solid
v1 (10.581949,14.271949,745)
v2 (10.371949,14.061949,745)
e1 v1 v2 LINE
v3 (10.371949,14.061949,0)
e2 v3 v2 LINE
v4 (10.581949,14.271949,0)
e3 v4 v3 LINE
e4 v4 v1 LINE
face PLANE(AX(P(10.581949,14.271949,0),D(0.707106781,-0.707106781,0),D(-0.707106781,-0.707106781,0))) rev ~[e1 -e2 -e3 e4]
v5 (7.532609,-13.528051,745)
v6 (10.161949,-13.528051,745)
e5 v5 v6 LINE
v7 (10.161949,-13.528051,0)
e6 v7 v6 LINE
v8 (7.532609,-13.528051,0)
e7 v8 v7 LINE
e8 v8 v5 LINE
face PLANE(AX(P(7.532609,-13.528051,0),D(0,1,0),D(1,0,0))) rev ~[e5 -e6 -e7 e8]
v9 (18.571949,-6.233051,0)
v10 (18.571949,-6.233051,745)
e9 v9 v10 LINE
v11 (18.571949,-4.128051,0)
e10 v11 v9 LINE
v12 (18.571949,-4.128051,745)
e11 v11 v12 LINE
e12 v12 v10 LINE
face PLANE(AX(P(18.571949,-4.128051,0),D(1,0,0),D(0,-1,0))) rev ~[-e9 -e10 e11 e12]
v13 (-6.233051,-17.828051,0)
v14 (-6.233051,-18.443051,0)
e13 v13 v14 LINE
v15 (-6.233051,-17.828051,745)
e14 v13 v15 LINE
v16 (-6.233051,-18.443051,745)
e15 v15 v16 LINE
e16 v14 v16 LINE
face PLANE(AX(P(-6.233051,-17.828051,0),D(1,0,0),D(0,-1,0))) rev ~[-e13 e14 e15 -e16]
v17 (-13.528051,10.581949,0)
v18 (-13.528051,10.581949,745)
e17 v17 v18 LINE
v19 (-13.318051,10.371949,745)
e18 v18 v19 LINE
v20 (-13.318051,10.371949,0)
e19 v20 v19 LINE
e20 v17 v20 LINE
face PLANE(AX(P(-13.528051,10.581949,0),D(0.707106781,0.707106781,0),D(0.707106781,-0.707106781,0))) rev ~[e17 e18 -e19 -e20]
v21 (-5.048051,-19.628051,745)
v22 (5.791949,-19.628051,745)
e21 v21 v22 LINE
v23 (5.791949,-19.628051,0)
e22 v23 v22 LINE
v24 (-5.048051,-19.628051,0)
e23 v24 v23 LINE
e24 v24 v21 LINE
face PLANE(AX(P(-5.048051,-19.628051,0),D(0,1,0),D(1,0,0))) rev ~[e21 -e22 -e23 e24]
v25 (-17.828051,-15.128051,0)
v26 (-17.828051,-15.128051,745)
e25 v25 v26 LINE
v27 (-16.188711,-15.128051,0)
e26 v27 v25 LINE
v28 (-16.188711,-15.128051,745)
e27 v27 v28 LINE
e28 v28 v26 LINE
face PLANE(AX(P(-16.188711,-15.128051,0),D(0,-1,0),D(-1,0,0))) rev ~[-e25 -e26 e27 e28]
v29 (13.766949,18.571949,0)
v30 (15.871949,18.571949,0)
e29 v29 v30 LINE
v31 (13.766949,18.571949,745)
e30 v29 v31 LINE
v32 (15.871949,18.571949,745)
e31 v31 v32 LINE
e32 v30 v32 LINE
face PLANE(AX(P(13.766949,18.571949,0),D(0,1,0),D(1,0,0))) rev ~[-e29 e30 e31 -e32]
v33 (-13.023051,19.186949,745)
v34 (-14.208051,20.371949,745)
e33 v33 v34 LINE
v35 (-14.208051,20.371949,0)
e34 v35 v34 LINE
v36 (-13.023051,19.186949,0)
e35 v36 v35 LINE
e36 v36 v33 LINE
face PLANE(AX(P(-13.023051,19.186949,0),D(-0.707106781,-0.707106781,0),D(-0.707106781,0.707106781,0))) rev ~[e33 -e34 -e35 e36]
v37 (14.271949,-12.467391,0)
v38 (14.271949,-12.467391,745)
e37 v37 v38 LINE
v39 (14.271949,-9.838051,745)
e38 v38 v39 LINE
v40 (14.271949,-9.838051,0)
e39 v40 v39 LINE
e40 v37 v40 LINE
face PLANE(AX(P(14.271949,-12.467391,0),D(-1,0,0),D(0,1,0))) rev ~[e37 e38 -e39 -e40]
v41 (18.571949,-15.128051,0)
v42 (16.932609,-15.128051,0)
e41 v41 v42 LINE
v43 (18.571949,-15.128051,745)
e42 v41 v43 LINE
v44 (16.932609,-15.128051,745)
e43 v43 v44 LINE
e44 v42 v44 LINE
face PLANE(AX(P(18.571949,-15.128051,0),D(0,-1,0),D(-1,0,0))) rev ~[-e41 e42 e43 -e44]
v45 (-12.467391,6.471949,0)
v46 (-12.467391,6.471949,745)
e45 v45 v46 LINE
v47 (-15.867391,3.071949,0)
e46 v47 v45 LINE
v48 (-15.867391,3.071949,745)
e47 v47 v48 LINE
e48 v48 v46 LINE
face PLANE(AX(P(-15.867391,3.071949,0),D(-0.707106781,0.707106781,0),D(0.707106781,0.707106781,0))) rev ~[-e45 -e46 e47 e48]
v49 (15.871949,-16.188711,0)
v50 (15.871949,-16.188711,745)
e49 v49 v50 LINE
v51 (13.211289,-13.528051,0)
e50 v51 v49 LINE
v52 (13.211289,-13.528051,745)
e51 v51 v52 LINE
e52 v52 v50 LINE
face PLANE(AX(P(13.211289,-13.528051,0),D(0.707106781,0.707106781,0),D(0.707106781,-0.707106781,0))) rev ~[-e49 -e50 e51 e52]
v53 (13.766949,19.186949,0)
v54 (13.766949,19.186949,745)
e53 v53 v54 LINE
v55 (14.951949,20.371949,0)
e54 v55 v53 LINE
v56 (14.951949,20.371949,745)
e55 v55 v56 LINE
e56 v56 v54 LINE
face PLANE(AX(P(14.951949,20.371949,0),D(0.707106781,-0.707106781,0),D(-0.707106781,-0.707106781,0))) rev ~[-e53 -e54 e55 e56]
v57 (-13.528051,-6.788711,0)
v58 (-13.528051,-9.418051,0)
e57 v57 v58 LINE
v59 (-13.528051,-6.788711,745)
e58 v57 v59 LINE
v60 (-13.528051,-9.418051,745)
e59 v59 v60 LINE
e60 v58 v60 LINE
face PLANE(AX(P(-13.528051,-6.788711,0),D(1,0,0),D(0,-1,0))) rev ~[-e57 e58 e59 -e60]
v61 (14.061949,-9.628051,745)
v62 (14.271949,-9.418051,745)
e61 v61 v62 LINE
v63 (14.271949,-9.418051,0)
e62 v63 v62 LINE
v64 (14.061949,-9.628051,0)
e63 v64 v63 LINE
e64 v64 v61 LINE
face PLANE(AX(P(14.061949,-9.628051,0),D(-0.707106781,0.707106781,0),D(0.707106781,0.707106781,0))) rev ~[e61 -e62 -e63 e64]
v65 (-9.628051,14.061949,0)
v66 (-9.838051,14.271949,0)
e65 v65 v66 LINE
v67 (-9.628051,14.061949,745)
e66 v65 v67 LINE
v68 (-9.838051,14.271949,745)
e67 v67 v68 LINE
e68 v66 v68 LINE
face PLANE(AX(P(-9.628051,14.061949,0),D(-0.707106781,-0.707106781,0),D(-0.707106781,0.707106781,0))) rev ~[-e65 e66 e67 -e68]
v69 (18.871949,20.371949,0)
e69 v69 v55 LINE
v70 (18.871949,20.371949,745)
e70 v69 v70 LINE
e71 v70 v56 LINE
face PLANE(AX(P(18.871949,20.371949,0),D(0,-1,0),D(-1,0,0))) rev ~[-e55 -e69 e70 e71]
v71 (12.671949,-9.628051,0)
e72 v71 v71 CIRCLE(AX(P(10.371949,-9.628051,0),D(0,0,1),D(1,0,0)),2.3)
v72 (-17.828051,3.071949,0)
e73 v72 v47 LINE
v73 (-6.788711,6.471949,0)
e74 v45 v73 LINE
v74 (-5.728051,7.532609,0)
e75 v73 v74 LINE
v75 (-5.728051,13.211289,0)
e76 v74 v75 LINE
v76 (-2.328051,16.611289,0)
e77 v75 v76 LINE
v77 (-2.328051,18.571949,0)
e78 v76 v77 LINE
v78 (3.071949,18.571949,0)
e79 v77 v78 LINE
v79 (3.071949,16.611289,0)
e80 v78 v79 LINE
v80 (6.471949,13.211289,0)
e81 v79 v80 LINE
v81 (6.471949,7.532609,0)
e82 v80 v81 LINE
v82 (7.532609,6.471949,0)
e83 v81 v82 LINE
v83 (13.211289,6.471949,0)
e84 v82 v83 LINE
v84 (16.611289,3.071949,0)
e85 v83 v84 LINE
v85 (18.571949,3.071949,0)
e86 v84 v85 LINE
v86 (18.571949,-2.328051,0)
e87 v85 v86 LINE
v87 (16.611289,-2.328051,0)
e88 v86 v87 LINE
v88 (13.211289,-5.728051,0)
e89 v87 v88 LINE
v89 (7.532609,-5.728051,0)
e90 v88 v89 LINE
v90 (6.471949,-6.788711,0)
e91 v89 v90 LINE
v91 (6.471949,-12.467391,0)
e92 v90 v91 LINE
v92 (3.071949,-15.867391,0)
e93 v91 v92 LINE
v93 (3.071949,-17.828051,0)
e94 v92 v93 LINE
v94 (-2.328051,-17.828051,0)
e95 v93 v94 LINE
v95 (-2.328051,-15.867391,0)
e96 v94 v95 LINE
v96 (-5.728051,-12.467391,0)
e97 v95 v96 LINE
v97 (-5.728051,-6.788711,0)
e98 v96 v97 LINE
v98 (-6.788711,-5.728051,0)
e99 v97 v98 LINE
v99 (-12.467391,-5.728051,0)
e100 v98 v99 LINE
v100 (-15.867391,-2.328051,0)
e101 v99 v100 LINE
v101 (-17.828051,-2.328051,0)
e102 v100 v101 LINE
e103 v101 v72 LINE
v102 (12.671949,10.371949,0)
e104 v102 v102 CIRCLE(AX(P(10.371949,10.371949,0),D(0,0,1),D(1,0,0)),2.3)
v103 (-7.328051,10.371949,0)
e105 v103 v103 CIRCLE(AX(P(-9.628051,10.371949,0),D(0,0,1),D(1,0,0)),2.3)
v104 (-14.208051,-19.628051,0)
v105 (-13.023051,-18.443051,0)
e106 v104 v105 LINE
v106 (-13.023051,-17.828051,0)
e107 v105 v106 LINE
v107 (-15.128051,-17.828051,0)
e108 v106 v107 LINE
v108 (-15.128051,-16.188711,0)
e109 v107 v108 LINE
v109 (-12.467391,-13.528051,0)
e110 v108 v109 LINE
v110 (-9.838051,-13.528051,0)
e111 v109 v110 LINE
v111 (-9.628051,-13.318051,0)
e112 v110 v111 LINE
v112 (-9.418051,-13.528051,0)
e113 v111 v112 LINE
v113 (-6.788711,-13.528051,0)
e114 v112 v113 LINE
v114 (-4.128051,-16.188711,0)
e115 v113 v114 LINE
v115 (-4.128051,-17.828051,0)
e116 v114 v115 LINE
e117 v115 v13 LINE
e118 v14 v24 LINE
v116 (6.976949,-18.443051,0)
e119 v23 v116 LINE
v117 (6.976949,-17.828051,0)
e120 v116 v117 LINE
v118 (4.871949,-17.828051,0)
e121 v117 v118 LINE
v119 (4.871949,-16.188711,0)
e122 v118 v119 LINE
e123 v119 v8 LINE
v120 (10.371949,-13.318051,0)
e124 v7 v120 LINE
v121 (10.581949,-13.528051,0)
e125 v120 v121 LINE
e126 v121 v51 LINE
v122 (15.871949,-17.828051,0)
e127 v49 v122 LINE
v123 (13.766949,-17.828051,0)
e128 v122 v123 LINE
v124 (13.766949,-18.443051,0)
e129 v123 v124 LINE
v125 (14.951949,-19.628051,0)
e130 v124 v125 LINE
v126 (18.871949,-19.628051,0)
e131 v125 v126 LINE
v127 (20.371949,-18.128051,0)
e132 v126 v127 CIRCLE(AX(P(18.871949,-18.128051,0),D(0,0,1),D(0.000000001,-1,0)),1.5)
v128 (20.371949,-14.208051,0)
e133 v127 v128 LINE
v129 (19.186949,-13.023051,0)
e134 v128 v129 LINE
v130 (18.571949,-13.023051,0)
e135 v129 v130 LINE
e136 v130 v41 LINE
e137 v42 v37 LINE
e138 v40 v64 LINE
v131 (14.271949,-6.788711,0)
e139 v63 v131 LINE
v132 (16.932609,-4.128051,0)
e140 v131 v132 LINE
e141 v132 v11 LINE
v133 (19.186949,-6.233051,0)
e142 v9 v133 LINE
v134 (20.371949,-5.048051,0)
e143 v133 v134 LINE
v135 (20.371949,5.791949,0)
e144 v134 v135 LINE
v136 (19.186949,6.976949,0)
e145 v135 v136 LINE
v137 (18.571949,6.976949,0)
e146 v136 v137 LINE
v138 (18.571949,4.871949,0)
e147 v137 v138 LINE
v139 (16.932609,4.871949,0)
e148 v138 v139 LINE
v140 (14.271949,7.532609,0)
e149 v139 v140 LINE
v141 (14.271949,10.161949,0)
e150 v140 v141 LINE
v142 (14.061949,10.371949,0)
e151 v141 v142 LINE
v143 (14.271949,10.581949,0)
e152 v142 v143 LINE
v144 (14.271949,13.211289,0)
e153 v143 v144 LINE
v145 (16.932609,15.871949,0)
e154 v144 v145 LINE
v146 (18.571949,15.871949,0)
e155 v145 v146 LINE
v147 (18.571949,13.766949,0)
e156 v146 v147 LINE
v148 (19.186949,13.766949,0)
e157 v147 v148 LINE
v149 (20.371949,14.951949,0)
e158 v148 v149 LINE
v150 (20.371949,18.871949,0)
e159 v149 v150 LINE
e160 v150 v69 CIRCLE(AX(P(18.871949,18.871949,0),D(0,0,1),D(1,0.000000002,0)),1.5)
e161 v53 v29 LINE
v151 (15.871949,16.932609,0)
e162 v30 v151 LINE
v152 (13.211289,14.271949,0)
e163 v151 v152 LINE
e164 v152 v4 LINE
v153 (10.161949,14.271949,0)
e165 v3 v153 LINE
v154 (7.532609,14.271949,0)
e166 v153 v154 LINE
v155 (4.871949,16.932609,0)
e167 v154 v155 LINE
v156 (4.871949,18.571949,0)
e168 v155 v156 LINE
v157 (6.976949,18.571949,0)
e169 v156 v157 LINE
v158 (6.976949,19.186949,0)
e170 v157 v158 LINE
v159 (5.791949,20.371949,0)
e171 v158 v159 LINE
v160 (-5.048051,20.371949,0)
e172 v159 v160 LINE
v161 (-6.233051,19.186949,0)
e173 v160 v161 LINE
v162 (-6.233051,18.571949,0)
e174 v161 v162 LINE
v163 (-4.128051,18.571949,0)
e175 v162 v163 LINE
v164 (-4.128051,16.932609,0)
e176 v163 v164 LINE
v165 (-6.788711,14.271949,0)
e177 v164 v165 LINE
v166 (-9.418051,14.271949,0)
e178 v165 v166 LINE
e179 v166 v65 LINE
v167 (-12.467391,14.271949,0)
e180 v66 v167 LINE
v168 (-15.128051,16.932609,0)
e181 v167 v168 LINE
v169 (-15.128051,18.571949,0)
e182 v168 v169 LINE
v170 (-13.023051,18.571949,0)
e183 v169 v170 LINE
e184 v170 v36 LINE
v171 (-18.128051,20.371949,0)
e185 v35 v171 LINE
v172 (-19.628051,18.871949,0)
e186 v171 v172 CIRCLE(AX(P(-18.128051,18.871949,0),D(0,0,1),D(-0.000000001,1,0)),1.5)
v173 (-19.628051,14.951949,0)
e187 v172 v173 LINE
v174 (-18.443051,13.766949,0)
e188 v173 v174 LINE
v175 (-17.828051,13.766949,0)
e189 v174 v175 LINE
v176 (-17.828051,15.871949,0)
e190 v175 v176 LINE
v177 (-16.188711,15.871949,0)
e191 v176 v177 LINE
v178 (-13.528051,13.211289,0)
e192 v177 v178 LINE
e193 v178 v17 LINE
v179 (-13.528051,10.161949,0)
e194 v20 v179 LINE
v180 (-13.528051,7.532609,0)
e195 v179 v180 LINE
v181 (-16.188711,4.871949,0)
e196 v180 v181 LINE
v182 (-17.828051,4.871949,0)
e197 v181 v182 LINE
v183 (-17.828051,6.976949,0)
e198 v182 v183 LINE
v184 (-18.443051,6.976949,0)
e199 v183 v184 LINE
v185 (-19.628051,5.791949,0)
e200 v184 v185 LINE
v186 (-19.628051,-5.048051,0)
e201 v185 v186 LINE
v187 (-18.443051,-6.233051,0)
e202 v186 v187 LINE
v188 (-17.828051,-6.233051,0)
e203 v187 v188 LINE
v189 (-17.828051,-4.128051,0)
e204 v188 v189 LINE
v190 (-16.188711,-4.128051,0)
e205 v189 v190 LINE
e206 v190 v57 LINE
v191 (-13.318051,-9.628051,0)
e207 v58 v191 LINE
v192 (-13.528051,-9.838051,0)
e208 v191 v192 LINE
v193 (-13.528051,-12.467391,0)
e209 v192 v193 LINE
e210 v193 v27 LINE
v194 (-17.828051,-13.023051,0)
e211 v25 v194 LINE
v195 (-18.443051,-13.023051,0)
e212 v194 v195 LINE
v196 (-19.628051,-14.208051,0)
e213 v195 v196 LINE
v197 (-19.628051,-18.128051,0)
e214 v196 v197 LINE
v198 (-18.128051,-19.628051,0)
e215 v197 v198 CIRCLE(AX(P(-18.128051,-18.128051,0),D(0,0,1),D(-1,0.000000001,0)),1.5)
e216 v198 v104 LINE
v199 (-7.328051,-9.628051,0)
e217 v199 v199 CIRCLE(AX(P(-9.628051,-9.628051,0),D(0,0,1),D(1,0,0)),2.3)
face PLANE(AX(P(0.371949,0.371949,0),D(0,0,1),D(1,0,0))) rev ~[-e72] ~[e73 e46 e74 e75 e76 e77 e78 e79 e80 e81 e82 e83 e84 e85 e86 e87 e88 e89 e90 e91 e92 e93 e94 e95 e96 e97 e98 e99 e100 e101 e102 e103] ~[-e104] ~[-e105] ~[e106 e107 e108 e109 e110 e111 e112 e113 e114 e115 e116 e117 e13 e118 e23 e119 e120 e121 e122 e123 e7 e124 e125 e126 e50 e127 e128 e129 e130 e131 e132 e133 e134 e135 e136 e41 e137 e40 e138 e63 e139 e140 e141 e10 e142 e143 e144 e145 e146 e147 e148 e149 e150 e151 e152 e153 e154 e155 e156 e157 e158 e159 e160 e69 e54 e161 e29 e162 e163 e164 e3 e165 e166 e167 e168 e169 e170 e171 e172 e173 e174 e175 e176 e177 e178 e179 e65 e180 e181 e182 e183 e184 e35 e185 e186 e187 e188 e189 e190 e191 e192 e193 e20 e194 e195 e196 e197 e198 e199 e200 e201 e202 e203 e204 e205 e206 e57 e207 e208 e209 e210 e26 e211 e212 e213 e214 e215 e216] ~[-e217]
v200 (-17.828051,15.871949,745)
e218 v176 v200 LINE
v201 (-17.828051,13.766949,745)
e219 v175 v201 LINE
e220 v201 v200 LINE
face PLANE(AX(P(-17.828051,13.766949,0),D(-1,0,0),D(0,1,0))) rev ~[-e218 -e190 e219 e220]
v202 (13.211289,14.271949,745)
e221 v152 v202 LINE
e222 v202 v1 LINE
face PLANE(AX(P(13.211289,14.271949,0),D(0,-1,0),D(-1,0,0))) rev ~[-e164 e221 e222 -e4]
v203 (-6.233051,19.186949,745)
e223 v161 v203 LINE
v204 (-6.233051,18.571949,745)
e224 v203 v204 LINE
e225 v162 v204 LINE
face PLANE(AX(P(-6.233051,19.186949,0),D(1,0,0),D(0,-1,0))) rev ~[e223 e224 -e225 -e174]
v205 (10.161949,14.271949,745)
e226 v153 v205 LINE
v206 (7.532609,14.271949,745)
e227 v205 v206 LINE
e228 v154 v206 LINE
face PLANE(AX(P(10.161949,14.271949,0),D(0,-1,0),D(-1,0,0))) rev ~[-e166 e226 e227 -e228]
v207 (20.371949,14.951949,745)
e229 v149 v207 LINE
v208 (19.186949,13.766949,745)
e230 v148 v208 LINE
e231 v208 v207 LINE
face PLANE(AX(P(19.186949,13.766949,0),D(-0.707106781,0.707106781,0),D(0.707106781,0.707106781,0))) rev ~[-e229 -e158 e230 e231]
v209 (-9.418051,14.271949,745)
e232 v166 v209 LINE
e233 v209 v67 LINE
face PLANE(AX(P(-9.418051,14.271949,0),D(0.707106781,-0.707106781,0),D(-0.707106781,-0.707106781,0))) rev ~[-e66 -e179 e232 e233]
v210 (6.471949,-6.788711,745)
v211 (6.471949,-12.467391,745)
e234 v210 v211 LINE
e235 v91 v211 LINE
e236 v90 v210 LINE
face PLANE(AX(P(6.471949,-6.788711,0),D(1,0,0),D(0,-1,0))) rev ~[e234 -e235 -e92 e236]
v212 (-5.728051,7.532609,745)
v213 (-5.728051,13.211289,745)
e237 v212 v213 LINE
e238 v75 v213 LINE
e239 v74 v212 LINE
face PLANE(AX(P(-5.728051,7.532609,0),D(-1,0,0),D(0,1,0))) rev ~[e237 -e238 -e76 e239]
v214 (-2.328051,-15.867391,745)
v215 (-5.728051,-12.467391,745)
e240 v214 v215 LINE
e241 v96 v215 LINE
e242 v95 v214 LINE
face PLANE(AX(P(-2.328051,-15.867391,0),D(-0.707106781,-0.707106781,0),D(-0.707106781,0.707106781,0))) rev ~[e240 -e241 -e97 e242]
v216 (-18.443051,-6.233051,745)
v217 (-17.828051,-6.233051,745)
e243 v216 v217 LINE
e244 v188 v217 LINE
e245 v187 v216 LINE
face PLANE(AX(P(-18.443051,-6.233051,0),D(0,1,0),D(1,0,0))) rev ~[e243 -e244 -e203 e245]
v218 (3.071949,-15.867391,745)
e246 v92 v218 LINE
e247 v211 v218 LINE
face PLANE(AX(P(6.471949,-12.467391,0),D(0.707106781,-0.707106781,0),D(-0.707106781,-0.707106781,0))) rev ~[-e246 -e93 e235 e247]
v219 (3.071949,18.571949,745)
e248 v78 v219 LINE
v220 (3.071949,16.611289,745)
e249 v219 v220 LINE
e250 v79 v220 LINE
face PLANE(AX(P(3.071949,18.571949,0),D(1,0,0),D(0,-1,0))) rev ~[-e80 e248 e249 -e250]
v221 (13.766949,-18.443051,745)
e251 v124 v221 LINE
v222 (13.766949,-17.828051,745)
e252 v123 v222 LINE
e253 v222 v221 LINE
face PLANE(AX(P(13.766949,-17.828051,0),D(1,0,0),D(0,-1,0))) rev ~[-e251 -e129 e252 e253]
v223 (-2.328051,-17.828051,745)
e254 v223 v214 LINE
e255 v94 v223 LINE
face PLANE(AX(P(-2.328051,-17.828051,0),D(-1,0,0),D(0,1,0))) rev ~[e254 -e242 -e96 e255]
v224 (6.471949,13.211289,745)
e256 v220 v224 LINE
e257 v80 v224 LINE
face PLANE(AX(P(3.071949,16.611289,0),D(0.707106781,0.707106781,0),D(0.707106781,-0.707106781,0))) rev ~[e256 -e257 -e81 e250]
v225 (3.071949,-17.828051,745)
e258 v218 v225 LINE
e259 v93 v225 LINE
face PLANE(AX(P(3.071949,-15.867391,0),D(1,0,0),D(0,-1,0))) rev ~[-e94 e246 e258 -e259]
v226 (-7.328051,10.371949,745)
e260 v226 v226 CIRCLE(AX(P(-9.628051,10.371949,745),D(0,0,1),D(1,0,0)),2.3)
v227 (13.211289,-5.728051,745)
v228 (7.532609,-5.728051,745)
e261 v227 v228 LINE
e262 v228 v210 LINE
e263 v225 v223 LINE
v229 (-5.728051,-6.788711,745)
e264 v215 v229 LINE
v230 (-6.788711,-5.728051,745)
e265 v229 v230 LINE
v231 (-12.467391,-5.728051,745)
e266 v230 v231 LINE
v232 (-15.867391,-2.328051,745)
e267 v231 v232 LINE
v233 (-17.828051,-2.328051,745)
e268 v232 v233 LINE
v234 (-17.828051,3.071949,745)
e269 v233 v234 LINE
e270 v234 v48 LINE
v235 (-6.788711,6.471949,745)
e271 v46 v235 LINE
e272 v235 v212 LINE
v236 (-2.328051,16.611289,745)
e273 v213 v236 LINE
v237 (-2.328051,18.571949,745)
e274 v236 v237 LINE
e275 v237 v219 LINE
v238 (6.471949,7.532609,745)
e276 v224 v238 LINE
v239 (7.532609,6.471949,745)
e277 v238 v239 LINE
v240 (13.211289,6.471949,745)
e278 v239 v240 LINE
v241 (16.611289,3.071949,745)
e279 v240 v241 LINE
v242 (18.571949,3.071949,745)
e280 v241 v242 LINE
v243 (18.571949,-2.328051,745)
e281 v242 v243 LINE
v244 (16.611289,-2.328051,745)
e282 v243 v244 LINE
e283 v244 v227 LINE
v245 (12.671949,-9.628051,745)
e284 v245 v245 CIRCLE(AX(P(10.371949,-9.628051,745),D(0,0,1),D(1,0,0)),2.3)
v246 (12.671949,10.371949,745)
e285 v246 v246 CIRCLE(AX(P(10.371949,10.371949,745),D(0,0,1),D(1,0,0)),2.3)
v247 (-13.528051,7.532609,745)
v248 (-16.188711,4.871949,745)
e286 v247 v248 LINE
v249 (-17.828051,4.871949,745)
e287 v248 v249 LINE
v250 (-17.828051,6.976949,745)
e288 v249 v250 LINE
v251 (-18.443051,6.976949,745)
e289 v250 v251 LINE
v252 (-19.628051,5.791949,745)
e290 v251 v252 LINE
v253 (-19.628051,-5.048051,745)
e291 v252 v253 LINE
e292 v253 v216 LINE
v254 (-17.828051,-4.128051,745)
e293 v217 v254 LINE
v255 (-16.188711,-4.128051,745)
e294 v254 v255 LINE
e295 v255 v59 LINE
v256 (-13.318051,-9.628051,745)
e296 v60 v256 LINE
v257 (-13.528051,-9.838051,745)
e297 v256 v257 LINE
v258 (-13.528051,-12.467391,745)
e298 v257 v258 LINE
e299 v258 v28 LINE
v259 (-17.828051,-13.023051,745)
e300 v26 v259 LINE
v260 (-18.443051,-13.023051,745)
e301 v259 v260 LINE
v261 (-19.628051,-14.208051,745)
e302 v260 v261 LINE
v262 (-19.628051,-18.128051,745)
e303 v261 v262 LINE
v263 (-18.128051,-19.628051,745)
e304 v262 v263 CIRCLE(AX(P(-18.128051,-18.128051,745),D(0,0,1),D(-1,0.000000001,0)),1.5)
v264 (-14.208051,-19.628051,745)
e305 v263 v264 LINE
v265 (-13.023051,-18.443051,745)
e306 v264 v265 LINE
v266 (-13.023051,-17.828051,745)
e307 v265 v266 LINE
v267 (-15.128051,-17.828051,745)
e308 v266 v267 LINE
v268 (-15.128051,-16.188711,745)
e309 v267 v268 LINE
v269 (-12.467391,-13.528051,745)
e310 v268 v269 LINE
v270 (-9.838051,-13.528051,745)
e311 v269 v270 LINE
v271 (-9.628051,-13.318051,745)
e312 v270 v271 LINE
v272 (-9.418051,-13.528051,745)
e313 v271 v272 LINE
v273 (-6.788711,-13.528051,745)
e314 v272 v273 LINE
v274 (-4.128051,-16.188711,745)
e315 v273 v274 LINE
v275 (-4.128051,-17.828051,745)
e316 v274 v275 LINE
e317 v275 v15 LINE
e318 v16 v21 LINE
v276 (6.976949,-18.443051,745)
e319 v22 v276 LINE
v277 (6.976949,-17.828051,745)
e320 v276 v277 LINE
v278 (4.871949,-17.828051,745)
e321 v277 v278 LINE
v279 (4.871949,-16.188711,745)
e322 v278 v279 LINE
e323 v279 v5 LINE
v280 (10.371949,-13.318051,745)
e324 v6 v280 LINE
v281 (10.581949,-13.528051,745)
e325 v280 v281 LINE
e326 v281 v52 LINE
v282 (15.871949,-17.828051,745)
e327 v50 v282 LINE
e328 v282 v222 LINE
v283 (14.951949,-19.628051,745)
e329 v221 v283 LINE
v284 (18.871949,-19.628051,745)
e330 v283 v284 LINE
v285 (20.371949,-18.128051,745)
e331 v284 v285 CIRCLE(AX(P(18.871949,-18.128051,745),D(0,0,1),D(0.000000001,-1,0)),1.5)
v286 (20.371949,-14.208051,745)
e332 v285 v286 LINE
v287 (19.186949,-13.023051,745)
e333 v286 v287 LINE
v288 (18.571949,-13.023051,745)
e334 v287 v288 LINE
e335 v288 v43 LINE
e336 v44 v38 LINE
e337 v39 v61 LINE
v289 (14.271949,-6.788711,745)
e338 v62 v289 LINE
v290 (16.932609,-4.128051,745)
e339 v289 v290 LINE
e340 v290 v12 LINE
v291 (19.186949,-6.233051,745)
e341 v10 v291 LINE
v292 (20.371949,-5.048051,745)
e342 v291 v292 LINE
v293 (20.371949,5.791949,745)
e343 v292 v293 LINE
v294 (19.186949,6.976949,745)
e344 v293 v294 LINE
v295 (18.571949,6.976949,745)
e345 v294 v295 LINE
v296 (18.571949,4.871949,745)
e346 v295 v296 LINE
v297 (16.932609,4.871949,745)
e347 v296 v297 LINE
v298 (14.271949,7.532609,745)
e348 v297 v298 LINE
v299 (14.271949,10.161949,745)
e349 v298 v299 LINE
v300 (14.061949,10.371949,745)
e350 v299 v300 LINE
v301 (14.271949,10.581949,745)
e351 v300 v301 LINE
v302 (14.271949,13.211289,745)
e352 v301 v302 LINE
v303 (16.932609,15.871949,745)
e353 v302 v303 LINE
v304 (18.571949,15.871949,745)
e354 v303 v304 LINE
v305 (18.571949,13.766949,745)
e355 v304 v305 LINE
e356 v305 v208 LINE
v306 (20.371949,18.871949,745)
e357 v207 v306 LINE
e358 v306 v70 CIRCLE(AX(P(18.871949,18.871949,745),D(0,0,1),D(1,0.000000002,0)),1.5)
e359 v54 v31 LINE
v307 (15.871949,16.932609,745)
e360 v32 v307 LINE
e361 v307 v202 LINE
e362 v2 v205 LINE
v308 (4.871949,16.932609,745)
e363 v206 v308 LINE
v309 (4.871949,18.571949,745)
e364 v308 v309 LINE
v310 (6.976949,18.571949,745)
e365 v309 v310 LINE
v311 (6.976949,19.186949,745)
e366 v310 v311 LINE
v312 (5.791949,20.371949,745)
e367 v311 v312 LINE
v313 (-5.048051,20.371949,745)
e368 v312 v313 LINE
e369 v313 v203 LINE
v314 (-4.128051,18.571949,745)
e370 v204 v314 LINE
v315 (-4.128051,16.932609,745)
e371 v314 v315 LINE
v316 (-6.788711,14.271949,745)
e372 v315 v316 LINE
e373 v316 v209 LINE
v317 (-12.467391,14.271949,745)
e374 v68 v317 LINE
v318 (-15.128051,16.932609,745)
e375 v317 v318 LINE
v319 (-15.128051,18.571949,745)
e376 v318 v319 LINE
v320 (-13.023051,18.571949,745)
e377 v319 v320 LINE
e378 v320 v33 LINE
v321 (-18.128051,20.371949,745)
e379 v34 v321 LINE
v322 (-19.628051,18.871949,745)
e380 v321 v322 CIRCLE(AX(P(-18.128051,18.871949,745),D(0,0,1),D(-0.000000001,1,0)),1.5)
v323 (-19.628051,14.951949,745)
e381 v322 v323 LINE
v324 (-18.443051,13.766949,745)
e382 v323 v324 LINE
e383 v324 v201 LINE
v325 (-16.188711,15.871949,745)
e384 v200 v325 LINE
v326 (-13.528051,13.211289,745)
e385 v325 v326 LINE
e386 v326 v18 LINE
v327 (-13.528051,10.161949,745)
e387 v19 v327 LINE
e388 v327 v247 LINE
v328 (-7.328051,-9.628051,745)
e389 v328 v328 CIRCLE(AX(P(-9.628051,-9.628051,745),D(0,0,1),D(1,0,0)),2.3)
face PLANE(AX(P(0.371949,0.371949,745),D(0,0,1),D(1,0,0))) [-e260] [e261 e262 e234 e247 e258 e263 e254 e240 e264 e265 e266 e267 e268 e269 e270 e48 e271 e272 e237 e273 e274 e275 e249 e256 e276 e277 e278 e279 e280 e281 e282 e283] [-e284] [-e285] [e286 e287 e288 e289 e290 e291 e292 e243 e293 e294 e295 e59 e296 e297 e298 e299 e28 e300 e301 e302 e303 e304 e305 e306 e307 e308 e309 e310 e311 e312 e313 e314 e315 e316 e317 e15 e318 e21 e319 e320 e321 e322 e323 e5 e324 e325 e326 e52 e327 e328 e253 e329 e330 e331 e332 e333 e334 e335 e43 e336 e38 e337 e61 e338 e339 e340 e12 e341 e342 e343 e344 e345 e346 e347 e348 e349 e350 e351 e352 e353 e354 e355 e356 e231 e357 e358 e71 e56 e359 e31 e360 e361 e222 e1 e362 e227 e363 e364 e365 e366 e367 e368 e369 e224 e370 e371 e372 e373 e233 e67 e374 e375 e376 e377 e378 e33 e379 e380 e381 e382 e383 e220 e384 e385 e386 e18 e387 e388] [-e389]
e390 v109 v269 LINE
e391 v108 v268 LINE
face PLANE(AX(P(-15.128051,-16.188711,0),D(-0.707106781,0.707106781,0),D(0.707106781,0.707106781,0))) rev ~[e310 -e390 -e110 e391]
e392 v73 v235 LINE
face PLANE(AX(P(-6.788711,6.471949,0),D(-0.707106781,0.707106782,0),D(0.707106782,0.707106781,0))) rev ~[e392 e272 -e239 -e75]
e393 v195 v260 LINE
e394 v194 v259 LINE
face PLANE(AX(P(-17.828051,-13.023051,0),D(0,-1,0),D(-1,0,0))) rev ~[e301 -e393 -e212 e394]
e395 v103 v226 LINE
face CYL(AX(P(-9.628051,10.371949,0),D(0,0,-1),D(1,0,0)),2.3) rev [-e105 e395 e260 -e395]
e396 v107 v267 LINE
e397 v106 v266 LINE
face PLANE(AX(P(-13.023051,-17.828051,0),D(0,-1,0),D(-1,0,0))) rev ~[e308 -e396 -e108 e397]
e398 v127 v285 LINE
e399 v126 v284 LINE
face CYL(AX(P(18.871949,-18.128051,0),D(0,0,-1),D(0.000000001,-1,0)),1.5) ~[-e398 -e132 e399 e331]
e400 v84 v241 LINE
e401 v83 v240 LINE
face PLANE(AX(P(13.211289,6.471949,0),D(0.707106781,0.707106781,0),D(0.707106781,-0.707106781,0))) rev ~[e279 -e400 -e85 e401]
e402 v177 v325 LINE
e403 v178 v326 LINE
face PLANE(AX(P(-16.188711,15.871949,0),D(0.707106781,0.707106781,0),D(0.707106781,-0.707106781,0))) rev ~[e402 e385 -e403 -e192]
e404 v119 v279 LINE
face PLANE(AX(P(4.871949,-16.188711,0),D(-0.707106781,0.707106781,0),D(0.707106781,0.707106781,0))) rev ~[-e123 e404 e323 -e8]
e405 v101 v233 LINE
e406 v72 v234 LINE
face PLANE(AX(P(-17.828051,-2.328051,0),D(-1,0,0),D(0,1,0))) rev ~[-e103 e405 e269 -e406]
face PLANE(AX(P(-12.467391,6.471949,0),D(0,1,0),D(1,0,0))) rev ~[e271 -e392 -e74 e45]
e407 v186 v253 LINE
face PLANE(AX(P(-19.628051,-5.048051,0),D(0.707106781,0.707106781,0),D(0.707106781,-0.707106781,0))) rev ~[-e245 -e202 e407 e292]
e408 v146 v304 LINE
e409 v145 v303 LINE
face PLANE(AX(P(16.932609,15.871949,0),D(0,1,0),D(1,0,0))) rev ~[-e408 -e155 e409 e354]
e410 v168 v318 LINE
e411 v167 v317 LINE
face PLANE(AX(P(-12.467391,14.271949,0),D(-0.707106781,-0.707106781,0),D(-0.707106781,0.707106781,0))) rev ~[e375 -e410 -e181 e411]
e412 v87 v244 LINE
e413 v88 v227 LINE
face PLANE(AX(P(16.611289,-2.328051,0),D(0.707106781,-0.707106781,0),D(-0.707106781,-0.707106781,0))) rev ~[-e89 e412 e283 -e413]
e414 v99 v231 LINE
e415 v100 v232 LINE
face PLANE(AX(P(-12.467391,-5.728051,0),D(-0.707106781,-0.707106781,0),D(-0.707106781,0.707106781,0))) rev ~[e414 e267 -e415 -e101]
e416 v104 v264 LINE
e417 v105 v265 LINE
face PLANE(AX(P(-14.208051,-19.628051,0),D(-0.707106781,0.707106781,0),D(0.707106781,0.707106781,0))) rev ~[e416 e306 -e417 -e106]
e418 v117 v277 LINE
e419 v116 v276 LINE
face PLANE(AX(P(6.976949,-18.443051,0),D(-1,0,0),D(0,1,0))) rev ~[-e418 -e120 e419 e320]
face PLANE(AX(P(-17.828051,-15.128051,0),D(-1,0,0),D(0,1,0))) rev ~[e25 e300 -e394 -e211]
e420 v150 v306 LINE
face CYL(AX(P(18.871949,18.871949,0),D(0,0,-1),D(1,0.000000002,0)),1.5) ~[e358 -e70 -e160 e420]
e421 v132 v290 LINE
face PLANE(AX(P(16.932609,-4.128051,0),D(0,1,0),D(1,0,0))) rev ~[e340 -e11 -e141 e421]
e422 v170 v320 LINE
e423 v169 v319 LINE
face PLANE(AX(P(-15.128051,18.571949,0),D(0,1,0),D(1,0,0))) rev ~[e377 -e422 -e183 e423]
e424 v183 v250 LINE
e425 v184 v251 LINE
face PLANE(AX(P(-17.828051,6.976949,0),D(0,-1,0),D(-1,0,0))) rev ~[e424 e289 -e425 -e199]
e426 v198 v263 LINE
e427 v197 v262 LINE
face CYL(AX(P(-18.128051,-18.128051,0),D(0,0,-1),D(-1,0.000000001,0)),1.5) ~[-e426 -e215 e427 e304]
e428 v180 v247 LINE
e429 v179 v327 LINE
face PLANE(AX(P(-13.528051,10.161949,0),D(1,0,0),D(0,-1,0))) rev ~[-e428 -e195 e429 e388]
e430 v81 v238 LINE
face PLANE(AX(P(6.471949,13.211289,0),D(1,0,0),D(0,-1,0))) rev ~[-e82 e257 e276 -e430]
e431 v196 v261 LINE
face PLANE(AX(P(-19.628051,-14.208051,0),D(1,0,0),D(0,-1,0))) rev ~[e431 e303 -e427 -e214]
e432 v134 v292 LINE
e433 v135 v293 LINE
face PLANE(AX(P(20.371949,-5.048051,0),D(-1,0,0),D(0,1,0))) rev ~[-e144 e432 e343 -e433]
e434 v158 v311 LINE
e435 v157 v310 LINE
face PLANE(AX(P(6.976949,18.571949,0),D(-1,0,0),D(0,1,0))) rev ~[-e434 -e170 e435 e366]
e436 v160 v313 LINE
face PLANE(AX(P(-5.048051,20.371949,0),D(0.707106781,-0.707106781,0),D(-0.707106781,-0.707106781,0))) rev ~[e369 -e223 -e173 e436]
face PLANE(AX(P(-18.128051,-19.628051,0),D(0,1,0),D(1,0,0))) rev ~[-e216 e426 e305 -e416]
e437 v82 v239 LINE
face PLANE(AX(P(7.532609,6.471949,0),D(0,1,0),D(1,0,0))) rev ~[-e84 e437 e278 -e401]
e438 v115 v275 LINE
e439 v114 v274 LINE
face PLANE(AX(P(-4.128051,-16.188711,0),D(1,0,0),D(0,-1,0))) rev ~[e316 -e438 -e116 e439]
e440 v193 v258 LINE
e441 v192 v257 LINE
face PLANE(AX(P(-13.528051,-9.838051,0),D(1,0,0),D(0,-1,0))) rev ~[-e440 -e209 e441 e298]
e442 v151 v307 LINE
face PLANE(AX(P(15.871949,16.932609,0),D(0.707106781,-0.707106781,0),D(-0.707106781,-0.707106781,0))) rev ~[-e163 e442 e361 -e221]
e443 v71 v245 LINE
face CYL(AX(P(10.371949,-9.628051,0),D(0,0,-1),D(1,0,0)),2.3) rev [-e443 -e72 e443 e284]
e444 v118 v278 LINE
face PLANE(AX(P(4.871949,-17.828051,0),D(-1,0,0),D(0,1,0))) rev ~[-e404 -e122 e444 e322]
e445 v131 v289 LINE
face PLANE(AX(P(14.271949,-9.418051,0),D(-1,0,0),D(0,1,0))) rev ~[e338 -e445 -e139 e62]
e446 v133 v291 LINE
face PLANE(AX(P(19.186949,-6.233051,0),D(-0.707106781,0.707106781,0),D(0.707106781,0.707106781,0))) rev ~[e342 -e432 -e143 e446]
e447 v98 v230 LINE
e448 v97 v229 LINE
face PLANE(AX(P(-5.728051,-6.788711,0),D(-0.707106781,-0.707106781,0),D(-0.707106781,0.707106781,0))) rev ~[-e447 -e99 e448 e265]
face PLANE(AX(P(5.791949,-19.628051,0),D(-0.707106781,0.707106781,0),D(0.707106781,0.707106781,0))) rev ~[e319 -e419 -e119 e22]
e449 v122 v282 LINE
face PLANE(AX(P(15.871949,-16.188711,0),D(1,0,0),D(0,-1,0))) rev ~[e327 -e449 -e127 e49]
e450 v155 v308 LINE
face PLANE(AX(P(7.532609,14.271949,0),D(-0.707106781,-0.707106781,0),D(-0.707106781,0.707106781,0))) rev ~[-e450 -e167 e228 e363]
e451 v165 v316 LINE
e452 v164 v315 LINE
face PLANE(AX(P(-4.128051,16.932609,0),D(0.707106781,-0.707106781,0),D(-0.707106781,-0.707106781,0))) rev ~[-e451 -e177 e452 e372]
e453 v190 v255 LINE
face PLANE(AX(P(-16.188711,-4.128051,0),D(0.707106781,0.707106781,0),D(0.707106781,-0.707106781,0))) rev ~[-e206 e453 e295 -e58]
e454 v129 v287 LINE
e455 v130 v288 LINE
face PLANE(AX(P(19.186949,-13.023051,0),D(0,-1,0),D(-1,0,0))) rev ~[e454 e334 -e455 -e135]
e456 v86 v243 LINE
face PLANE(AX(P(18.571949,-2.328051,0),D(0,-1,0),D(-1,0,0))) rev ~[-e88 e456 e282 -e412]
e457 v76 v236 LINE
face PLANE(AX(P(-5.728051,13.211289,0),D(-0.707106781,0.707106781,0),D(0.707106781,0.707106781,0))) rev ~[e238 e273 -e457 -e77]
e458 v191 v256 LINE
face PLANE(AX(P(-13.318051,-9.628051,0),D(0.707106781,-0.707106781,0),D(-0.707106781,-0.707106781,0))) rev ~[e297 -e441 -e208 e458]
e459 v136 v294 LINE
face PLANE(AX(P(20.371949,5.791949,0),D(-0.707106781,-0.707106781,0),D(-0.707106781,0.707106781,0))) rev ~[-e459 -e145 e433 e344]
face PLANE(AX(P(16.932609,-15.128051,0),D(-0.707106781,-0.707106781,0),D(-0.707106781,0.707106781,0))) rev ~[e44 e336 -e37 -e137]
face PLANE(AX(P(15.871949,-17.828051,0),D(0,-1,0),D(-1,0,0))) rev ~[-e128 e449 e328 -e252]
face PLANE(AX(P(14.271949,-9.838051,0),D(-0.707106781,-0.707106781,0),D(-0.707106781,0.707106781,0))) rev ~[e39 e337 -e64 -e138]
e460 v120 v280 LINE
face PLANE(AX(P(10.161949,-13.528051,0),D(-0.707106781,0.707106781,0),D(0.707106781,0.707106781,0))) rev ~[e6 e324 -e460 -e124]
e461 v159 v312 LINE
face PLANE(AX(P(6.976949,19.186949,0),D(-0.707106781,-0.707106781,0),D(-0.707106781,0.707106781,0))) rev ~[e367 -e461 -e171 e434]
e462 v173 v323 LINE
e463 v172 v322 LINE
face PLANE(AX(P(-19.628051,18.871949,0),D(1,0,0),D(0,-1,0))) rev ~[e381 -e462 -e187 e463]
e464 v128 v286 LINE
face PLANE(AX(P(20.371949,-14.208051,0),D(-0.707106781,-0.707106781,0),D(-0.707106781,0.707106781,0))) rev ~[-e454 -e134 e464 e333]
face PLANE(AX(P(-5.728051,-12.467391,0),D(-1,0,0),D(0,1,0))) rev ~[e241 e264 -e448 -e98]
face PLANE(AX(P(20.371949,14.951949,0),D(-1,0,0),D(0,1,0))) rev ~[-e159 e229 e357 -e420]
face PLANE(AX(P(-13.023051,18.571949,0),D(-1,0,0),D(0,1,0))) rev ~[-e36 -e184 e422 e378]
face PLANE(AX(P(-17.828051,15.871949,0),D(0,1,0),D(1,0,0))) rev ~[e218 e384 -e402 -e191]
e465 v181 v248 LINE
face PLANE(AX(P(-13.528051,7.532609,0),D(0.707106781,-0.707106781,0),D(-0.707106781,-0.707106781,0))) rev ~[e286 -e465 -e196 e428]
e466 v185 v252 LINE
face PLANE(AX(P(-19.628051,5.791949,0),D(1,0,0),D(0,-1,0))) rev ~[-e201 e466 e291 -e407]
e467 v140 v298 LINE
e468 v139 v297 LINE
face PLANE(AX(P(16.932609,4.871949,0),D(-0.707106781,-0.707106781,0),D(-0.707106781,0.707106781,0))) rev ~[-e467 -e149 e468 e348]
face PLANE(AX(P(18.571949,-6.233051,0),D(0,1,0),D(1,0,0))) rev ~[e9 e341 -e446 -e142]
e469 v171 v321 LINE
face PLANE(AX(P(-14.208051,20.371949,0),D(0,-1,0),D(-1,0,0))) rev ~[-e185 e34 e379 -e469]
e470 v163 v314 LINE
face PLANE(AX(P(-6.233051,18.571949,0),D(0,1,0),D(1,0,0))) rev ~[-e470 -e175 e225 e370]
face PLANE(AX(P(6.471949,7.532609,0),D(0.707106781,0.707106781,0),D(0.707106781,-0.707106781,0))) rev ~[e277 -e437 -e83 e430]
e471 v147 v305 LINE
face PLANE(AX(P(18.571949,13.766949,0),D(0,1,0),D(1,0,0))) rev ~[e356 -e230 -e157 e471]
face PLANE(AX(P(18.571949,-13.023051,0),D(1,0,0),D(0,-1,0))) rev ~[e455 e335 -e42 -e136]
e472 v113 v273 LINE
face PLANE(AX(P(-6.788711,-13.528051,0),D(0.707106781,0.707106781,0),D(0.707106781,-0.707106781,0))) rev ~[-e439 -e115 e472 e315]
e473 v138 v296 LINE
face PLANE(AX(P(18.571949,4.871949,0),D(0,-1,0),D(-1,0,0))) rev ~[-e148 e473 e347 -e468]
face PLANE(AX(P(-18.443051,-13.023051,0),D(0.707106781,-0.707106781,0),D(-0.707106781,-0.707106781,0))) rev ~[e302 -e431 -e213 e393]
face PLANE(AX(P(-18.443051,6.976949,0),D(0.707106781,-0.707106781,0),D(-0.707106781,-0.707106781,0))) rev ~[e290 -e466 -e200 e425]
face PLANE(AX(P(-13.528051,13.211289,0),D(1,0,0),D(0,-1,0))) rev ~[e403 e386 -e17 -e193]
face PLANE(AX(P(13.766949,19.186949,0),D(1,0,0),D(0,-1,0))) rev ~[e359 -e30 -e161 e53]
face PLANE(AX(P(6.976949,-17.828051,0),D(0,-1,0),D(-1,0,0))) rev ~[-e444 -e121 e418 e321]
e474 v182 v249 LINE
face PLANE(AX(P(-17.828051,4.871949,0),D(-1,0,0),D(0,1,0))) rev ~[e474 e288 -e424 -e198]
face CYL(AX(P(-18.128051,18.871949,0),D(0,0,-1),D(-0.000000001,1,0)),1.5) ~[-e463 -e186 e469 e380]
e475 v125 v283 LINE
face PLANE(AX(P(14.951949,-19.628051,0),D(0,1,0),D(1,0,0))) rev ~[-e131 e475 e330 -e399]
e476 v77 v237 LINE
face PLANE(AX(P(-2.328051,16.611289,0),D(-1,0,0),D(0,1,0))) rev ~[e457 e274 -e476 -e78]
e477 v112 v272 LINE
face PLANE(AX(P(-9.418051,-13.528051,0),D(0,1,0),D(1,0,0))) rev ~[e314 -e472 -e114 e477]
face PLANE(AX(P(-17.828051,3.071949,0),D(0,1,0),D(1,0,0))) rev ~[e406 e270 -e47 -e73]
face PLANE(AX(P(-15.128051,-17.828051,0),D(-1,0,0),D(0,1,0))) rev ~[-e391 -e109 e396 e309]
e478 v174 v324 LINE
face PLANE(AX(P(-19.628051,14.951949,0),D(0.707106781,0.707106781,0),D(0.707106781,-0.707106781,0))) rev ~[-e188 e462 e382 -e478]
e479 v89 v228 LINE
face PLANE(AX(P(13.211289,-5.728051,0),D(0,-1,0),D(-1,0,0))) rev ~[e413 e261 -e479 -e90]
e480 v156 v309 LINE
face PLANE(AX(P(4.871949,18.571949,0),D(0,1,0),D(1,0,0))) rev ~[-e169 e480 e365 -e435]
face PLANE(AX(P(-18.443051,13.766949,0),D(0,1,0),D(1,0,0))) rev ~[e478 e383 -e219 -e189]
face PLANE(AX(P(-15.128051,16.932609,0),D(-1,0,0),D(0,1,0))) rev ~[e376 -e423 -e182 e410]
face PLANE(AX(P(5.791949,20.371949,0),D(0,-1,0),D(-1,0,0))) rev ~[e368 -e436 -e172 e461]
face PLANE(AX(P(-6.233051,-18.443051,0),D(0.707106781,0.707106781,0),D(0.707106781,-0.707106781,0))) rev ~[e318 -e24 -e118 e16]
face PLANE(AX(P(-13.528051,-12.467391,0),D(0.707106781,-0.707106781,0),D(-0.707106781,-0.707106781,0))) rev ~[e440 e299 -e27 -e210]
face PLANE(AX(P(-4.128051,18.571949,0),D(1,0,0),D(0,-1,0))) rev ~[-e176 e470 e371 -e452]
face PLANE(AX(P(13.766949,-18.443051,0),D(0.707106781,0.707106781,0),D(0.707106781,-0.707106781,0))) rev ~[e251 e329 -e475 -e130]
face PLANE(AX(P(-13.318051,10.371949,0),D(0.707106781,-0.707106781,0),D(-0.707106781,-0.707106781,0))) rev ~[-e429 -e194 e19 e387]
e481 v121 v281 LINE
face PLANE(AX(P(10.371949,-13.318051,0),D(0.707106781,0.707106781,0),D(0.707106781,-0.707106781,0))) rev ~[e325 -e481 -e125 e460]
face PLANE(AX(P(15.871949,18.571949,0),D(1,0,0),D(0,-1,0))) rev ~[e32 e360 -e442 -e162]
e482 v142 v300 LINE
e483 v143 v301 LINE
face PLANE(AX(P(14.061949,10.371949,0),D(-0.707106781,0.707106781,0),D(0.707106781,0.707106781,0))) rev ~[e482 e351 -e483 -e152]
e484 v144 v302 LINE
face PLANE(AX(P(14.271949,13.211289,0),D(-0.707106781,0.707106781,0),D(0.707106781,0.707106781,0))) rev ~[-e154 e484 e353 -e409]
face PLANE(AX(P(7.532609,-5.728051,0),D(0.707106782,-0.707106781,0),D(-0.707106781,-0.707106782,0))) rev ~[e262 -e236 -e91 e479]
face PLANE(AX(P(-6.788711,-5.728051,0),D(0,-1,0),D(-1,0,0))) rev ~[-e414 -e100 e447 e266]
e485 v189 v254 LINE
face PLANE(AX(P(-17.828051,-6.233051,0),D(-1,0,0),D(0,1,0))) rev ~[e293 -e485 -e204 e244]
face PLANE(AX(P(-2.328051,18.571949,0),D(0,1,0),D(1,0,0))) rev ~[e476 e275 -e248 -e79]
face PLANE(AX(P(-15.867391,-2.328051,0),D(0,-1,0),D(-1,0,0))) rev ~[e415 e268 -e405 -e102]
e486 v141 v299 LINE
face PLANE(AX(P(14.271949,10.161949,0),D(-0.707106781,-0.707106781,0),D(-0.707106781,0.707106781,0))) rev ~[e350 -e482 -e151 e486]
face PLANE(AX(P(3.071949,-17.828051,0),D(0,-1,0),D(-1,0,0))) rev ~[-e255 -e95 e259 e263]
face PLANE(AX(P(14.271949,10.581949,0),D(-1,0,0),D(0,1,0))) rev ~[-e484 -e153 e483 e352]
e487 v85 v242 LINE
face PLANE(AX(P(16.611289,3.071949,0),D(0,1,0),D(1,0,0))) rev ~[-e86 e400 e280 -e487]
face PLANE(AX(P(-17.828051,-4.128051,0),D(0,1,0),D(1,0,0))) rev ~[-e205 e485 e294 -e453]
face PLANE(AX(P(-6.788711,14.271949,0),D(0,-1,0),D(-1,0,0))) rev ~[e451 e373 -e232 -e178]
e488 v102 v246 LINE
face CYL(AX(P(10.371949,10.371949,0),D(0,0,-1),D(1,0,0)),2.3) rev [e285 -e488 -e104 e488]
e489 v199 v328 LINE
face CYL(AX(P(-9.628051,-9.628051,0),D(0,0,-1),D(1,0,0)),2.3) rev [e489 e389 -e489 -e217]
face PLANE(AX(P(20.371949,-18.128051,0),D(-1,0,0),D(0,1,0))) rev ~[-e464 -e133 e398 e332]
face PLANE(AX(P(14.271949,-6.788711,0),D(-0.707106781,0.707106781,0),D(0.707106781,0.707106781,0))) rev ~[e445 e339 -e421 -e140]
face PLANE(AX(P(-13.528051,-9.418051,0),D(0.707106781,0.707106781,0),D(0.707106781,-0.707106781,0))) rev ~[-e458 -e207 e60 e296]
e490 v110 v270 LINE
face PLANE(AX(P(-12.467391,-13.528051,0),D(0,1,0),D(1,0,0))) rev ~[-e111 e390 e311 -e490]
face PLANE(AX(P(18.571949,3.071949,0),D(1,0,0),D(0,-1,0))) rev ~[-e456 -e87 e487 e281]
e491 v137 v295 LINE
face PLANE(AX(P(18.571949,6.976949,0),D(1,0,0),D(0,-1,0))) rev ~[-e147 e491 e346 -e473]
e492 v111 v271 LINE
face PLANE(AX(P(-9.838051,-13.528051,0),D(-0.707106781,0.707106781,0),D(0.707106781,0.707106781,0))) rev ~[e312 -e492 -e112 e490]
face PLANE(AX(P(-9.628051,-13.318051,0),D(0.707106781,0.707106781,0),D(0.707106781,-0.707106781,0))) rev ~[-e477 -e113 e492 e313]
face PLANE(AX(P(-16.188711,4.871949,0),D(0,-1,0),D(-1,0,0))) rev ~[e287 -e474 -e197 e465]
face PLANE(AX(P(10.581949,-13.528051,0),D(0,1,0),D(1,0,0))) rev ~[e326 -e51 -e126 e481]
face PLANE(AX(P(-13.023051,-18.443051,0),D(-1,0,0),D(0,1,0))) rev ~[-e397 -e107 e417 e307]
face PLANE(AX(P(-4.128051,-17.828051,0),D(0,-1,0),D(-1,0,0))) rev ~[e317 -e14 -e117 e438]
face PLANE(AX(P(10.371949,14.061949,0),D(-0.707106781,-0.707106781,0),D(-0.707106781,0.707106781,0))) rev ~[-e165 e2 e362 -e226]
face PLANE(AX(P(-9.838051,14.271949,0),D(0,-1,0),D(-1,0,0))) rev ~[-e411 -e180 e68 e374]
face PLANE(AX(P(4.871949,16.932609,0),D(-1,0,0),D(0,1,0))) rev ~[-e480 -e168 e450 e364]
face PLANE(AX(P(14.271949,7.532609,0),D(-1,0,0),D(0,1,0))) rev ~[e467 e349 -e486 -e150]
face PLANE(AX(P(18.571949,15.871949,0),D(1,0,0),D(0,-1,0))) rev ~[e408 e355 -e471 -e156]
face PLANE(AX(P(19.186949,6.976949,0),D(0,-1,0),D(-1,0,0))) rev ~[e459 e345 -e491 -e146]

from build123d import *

# Parameters (mm, degrees)
SKETCH1_R           = 2.3
BOSS_EXTRUDE1_DEPTH = 745


with BuildPart() as part:
    # Sketch1 → Boss-Extrude1 (new body)
    with BuildSketch(Plane.XY):
        with BuildLine():
            Line((14.271948898, -9.838051102), (14.061948898, -9.628051102))
            Line((14.061948898, -9.628051102), (14.271948898, -9.418051102))
            Line((14.271948898, -9.418051102), (14.271948898, -6.788711274))
            Line((14.271948898, -6.788711274), (16.932609069, -4.128051102))
            Line((16.932609069, -4.128051102), (18.571948898, -4.128051102))
            Line((18.571948898, -4.128051102), (18.571948898, -6.233051102))
            Line((18.571948898, -6.233051102), (19.186948898, -6.233051102))
            Line((19.186948898, -6.233051102), (20.371948898, -5.048051102))
            Line((20.371948898, -5.048051102), (20.371948898, 5.791948898))
            Line((20.371948898, 5.791948898), (19.186948898, 6.976948898))
            Line((19.186948898, 6.976948898), (18.571948898, 6.976948898))
            Line((18.571948898, 6.976948898), (18.571948898, 4.871948898))
            Line((18.571948898, 4.871948898), (16.932609069, 4.871948898))
            Line((16.932609069, 4.871948898), (14.271948898, 7.532609069))
            Line((14.271948898, 7.532609069), (14.271948898, 10.161948898))
            Line((14.271948898, 10.161948898), (14.061948898, 10.371948898))
            Line((14.061948898, 10.371948898), (14.271948898, 10.581948898))
            Line((14.271948898, 10.581948898), (14.271948898, 13.211288726))
            Line((14.271948898, 13.211288726), (16.932609069, 15.871948898))
            Line((16.932609069, 15.871948898), (18.571948898, 15.871948898))
            Line((18.571948898, 15.871948898), (18.571948898, 13.766948898))
            Line((18.571948898, 13.766948898), (19.186948898, 13.766948898))
            Line((19.186948898, 13.766948898), (20.371948898, 14.951948898))
            Line((20.371948898, 14.951948898), (20.371948898, 18.871948898))
            ThreePointArc((20.371948898, 18.871948898), (19.932609069, 19.932609069), (18.871948898, 20.371948898))
            Line((18.871948898, 20.371948898), (14.951948898, 20.371948898))
            Line((14.951948898, 20.371948898), (13.766948898, 19.186948898))
            Line((13.766948898, 19.186948898), (13.766948898, 18.571948898))
            Line((13.766948898, 18.571948898), (15.871948898, 18.571948898))
            Line((15.871948898, 18.571948898), (15.871948898, 16.932609069))
            Line((15.871948898, 16.932609069), (13.211288726, 14.271948898))
            Line((13.211288726, 14.271948898), (10.581948898, 14.271948898))
            Line((10.581948898, 14.271948898), (10.371948898, 14.061948898))
            Line((10.371948898, 14.061948898), (10.161948898, 14.271948898))
            Line((10.161948898, 14.271948898), (7.532609069, 14.271948898))
            Line((7.532609069, 14.271948898), (4.871948898, 16.932609069))
            Line((4.871948898, 16.932609069), (4.871948898, 18.571948898))
            Line((4.871948898, 18.571948898), (6.976948898, 18.571948898))
            Line((6.976948898, 18.571948898), (6.976948898, 19.186948898))
            Line((6.976948898, 19.186948898), (5.791948898, 20.371948898))
            Line((5.791948898, 20.371948898), (-5.048051102, 20.371948898))
            Line((-5.048051102, 20.371948898), (-6.233051102, 19.186948898))
            Line((-6.233051102, 19.186948898), (-6.233051102, 18.571948898))
            Line((-6.233051102, 18.571948898), (-4.128051102, 18.571948898))
            Line((-4.128051102, 18.571948898), (-4.128051102, 16.932609069))
            Line((-4.128051102, 16.932609069), (-6.788711274, 14.271948898))
            Line((-6.788711274, 14.271948898), (-9.418051102, 14.271948898))
            Line((-9.418051102, 14.271948898), (-9.628051102, 14.061948898))
            Line((-9.628051102, 14.061948898), (-9.838051102, 14.271948898))
            Line((-9.838051102, 14.271948898), (-12.467390931, 14.271948898))
            Line((-12.467390931, 14.271948898), (-15.128051102, 16.932609069))
            Line((-15.128051102, 16.932609069), (-15.128051102, 18.571948898))
            Line((-15.128051102, 18.571948898), (-13.023051102, 18.571948898))
            Line((-13.023051102, 18.571948898), (-13.023051102, 19.186948898))
            Line((-13.023051102, 19.186948898), (-14.208051102, 20.371948898))
            Line((-14.208051102, 20.371948898), (-18.128051102, 20.371948898))
            ThreePointArc((-18.128051102, 20.371948898), (-19.188711274, 19.932609069), (-19.628051102, 18.871948898))
            Line((-19.628051102, 18.871948898), (-19.628051102, 14.951948898))
            Line((-19.628051102, 14.951948898), (-18.443051102, 13.766948898))
            Line((-18.443051102, 13.766948898), (-17.828051102, 13.766948898))
            Line((-17.828051102, 13.766948898), (-17.828051102, 15.871948898))
            Line((-17.828051102, 15.871948898), (-16.188711274, 15.871948898))
            Line((-16.188711274, 15.871948898), (-13.528051102, 13.211288726))
            Line((-13.528051102, 13.211288726), (-13.528051102, 10.581948898))
            Line((-13.528051102, 10.581948898), (-13.318051102, 10.371948898))
            Line((-13.318051102, 10.371948898), (-13.528051102, 10.161948898))
            Line((-13.528051102, 10.161948898), (-13.528051102, 7.532609069))
            Line((-13.528051102, 7.532609069), (-16.188711274, 4.871948898))
            Line((-16.188711274, 4.871948898), (-17.828051102, 4.871948898))
            Line((-17.828051102, 4.871948898), (-17.828051102, 6.976948898))
            Line((-17.828051102, 6.976948898), (-18.443051102, 6.976948898))
            Line((-18.443051102, 6.976948898), (-19.628051102, 5.791948898))
            Line((-19.628051102, 5.791948898), (-19.628051102, -5.048051102))
            Line((-19.628051102, -5.048051102), (-18.443051102, -6.233051102))
            Line((-18.443051102, -6.233051102), (-17.828051102, -6.233051102))
            Line((-17.828051102, -6.233051102), (-17.828051102, -4.128051102))
            Line((-17.828051102, -4.128051102), (-16.188711274, -4.128051102))
            Line((-16.188711274, -4.128051102), (-13.528051102, -6.788711274))
            Line((-13.528051102, -6.788711274), (-13.528051102, -9.418051102))
            Line((-13.528051102, -9.418051102), (-13.318051102, -9.628051102))
            Line((-13.318051102, -9.628051102), (-13.528051102, -9.838051102))
            Line((-13.528051102, -9.838051102), (-13.528051102, -12.467390931))
            Line((-13.528051102, -12.467390931), (-16.188711274, -15.128051102))
            Line((-16.188711274, -15.128051102), (-17.828051102, -15.128051102))
            Line((-17.828051102, -15.128051102), (-17.828051102, -13.023051102))
            Line((-17.828051102, -13.023051102), (-18.443051102, -13.023051102))
            Line((-18.443051102, -13.023051102), (-19.628051102, -14.208051102))
            Line((-19.628051102, -14.208051102), (-19.628051102, -18.128051102))
            ThreePointArc((-19.628051102, -18.128051102), (-19.188711274, -19.188711274), (-18.128051102, -19.628051102))
            Line((-18.128051102, -19.628051102), (-14.208051102, -19.628051102))
            Line((-14.208051102, -19.628051102), (-13.023051102, -18.443051102))
            Line((-13.023051102, -18.443051102), (-13.023051102, -17.828051102))
            Line((-13.023051102, -17.828051102), (-15.128051102, -17.828051102))
            Line((-15.128051102, -17.828051102), (-15.128051102, -16.188711274))
            Line((-15.128051102, -16.188711274), (-12.467390931, -13.528051102))
            Line((-12.467390931, -13.528051102), (-9.838051102, -13.528051102))
            Line((-9.838051102, -13.528051102), (-9.628051102, -13.318051102))
            Line((-9.628051102, -13.318051102), (-9.418051102, -13.528051102))
            Line((-9.418051102, -13.528051102), (-6.788711274, -13.528051102))
            Line((-6.788711274, -13.528051102), (-4.128051102, -16.188711274))
            Line((-4.128051102, -16.188711274), (-4.128051102, -17.828051102))
            Line((-4.128051102, -17.828051102), (-6.233051102, -17.828051102))
            Line((-6.233051102, -17.828051102), (-6.233051102, -18.443051102))
            Line((-6.233051102, -18.443051102), (-5.048051102, -19.628051102))
            Line((-5.048051102, -19.628051102), (5.791948898, -19.628051102))
            Line((5.791948898, -19.628051102), (6.976948898, -18.443051102))
            Line((6.976948898, -18.443051102), (6.976948898, -17.828051102))
            Line((6.976948898, -17.828051102), (4.871948898, -17.828051102))
            Line((4.871948898, -17.828051102), (4.871948898, -16.188711274))
            Line((4.871948898, -16.188711274), (7.532609069, -13.528051102))
            Line((7.532609069, -13.528051102), (10.161948898, -13.528051102))
            Line((10.161948898, -13.528051102), (10.371948898, -13.318051102))
            Line((10.371948898, -13.318051102), (10.581948898, -13.528051102))
            Line((10.581948898, -13.528051102), (13.211288726, -13.528051102))
            Line((13.211288726, -13.528051102), (15.871948898, -16.188711274))
            Line((15.871948898, -16.188711274), (15.871948898, -17.828051102))
            Line((15.871948898, -17.828051102), (13.766948898, -17.828051102))
            Line((13.766948898, -17.828051102), (13.766948898, -18.443051102))
            Line((13.766948898, -18.443051102), (14.951948898, -19.628051102))
            Line((14.951948898, -19.628051102), (18.871948898, -19.628051102))
            ThreePointArc((18.871948898, -19.628051102), (19.932609069, -19.188711274), (20.371948898, -18.128051102))
            Line((20.371948898, -18.128051102), (20.371948898, -14.208051102))
            Line((20.371948898, -14.208051102), (19.186948898, -13.023051102))
            Line((19.186948898, -13.023051102), (18.571948898, -13.023051102))
            Line((18.571948898, -13.023051102), (18.571948898, -15.128051102))
            Line((18.571948898, -15.128051102), (16.932609069, -15.128051102))
            Line((16.932609069, -15.128051102), (14.271948898, -12.467390931))
            Line((14.271948898, -12.467390931), (14.271948898, -9.838051102))
        make_face()
        with Locations((-9.628051102, -9.628051102)):
            Circle(SKETCH1_R, mode=Mode.SUBTRACT)
        with Locations((10.371948898, -9.628051102)):
            Circle(SKETCH1_R, mode=Mode.SUBTRACT)
        with Locations((10.371948898, 10.371948898)):
            Circle(SKETCH1_R, mode=Mode.SUBTRACT)
        with Locations((-9.628051102, 10.371948898)):
            Circle(SKETCH1_R, mode=Mode.SUBTRACT)
        Polygon((-12.467390931, 6.471948898), (-6.788711274, 6.471948898), (-5.728051102, 7.532609069), (-5.728051102, 13.211288726), (-2.328051102, 16.611288726), (-2.328051102, 18.571948898), (3.071948898, 18.571948898), (3.071948898, 16.611288726), (6.471948898, 13.211288726), (6.471948898, 7.532609069), (7.532609069, 6.471948898), (13.211288726, 6.471948898), (16.611288726, 3.071948898), (18.571948898, 3.071948898), (18.571948898, -2.328051102), (16.611288726, -2.328051102), (13.211288726, -5.728051102), (7.532609069, -5.728051102), (6.471948898, -6.788711274), (6.471948898, -12.467390931), (3.071948898, -15.867390931), (3.071948898, -17.828051102), (-2.328051102, -17.828051102), (-2.328051102, -15.867390931), (-5.728051102, -12.467390931), (-5.728051102, -6.788711274), (-6.788711274, -5.728051102), (-12.467390931, -5.728051102), (-15.867390931, -2.328051102), (-17.828051102, -2.328051102), (-17.828051102, 3.071948898), (-15.867390931, 3.071948898), align=None, mode=Mode.SUBTRACT)
    extrude(amount=BOSS_EXTRUDE1_DEPTH)


solid = part.part
